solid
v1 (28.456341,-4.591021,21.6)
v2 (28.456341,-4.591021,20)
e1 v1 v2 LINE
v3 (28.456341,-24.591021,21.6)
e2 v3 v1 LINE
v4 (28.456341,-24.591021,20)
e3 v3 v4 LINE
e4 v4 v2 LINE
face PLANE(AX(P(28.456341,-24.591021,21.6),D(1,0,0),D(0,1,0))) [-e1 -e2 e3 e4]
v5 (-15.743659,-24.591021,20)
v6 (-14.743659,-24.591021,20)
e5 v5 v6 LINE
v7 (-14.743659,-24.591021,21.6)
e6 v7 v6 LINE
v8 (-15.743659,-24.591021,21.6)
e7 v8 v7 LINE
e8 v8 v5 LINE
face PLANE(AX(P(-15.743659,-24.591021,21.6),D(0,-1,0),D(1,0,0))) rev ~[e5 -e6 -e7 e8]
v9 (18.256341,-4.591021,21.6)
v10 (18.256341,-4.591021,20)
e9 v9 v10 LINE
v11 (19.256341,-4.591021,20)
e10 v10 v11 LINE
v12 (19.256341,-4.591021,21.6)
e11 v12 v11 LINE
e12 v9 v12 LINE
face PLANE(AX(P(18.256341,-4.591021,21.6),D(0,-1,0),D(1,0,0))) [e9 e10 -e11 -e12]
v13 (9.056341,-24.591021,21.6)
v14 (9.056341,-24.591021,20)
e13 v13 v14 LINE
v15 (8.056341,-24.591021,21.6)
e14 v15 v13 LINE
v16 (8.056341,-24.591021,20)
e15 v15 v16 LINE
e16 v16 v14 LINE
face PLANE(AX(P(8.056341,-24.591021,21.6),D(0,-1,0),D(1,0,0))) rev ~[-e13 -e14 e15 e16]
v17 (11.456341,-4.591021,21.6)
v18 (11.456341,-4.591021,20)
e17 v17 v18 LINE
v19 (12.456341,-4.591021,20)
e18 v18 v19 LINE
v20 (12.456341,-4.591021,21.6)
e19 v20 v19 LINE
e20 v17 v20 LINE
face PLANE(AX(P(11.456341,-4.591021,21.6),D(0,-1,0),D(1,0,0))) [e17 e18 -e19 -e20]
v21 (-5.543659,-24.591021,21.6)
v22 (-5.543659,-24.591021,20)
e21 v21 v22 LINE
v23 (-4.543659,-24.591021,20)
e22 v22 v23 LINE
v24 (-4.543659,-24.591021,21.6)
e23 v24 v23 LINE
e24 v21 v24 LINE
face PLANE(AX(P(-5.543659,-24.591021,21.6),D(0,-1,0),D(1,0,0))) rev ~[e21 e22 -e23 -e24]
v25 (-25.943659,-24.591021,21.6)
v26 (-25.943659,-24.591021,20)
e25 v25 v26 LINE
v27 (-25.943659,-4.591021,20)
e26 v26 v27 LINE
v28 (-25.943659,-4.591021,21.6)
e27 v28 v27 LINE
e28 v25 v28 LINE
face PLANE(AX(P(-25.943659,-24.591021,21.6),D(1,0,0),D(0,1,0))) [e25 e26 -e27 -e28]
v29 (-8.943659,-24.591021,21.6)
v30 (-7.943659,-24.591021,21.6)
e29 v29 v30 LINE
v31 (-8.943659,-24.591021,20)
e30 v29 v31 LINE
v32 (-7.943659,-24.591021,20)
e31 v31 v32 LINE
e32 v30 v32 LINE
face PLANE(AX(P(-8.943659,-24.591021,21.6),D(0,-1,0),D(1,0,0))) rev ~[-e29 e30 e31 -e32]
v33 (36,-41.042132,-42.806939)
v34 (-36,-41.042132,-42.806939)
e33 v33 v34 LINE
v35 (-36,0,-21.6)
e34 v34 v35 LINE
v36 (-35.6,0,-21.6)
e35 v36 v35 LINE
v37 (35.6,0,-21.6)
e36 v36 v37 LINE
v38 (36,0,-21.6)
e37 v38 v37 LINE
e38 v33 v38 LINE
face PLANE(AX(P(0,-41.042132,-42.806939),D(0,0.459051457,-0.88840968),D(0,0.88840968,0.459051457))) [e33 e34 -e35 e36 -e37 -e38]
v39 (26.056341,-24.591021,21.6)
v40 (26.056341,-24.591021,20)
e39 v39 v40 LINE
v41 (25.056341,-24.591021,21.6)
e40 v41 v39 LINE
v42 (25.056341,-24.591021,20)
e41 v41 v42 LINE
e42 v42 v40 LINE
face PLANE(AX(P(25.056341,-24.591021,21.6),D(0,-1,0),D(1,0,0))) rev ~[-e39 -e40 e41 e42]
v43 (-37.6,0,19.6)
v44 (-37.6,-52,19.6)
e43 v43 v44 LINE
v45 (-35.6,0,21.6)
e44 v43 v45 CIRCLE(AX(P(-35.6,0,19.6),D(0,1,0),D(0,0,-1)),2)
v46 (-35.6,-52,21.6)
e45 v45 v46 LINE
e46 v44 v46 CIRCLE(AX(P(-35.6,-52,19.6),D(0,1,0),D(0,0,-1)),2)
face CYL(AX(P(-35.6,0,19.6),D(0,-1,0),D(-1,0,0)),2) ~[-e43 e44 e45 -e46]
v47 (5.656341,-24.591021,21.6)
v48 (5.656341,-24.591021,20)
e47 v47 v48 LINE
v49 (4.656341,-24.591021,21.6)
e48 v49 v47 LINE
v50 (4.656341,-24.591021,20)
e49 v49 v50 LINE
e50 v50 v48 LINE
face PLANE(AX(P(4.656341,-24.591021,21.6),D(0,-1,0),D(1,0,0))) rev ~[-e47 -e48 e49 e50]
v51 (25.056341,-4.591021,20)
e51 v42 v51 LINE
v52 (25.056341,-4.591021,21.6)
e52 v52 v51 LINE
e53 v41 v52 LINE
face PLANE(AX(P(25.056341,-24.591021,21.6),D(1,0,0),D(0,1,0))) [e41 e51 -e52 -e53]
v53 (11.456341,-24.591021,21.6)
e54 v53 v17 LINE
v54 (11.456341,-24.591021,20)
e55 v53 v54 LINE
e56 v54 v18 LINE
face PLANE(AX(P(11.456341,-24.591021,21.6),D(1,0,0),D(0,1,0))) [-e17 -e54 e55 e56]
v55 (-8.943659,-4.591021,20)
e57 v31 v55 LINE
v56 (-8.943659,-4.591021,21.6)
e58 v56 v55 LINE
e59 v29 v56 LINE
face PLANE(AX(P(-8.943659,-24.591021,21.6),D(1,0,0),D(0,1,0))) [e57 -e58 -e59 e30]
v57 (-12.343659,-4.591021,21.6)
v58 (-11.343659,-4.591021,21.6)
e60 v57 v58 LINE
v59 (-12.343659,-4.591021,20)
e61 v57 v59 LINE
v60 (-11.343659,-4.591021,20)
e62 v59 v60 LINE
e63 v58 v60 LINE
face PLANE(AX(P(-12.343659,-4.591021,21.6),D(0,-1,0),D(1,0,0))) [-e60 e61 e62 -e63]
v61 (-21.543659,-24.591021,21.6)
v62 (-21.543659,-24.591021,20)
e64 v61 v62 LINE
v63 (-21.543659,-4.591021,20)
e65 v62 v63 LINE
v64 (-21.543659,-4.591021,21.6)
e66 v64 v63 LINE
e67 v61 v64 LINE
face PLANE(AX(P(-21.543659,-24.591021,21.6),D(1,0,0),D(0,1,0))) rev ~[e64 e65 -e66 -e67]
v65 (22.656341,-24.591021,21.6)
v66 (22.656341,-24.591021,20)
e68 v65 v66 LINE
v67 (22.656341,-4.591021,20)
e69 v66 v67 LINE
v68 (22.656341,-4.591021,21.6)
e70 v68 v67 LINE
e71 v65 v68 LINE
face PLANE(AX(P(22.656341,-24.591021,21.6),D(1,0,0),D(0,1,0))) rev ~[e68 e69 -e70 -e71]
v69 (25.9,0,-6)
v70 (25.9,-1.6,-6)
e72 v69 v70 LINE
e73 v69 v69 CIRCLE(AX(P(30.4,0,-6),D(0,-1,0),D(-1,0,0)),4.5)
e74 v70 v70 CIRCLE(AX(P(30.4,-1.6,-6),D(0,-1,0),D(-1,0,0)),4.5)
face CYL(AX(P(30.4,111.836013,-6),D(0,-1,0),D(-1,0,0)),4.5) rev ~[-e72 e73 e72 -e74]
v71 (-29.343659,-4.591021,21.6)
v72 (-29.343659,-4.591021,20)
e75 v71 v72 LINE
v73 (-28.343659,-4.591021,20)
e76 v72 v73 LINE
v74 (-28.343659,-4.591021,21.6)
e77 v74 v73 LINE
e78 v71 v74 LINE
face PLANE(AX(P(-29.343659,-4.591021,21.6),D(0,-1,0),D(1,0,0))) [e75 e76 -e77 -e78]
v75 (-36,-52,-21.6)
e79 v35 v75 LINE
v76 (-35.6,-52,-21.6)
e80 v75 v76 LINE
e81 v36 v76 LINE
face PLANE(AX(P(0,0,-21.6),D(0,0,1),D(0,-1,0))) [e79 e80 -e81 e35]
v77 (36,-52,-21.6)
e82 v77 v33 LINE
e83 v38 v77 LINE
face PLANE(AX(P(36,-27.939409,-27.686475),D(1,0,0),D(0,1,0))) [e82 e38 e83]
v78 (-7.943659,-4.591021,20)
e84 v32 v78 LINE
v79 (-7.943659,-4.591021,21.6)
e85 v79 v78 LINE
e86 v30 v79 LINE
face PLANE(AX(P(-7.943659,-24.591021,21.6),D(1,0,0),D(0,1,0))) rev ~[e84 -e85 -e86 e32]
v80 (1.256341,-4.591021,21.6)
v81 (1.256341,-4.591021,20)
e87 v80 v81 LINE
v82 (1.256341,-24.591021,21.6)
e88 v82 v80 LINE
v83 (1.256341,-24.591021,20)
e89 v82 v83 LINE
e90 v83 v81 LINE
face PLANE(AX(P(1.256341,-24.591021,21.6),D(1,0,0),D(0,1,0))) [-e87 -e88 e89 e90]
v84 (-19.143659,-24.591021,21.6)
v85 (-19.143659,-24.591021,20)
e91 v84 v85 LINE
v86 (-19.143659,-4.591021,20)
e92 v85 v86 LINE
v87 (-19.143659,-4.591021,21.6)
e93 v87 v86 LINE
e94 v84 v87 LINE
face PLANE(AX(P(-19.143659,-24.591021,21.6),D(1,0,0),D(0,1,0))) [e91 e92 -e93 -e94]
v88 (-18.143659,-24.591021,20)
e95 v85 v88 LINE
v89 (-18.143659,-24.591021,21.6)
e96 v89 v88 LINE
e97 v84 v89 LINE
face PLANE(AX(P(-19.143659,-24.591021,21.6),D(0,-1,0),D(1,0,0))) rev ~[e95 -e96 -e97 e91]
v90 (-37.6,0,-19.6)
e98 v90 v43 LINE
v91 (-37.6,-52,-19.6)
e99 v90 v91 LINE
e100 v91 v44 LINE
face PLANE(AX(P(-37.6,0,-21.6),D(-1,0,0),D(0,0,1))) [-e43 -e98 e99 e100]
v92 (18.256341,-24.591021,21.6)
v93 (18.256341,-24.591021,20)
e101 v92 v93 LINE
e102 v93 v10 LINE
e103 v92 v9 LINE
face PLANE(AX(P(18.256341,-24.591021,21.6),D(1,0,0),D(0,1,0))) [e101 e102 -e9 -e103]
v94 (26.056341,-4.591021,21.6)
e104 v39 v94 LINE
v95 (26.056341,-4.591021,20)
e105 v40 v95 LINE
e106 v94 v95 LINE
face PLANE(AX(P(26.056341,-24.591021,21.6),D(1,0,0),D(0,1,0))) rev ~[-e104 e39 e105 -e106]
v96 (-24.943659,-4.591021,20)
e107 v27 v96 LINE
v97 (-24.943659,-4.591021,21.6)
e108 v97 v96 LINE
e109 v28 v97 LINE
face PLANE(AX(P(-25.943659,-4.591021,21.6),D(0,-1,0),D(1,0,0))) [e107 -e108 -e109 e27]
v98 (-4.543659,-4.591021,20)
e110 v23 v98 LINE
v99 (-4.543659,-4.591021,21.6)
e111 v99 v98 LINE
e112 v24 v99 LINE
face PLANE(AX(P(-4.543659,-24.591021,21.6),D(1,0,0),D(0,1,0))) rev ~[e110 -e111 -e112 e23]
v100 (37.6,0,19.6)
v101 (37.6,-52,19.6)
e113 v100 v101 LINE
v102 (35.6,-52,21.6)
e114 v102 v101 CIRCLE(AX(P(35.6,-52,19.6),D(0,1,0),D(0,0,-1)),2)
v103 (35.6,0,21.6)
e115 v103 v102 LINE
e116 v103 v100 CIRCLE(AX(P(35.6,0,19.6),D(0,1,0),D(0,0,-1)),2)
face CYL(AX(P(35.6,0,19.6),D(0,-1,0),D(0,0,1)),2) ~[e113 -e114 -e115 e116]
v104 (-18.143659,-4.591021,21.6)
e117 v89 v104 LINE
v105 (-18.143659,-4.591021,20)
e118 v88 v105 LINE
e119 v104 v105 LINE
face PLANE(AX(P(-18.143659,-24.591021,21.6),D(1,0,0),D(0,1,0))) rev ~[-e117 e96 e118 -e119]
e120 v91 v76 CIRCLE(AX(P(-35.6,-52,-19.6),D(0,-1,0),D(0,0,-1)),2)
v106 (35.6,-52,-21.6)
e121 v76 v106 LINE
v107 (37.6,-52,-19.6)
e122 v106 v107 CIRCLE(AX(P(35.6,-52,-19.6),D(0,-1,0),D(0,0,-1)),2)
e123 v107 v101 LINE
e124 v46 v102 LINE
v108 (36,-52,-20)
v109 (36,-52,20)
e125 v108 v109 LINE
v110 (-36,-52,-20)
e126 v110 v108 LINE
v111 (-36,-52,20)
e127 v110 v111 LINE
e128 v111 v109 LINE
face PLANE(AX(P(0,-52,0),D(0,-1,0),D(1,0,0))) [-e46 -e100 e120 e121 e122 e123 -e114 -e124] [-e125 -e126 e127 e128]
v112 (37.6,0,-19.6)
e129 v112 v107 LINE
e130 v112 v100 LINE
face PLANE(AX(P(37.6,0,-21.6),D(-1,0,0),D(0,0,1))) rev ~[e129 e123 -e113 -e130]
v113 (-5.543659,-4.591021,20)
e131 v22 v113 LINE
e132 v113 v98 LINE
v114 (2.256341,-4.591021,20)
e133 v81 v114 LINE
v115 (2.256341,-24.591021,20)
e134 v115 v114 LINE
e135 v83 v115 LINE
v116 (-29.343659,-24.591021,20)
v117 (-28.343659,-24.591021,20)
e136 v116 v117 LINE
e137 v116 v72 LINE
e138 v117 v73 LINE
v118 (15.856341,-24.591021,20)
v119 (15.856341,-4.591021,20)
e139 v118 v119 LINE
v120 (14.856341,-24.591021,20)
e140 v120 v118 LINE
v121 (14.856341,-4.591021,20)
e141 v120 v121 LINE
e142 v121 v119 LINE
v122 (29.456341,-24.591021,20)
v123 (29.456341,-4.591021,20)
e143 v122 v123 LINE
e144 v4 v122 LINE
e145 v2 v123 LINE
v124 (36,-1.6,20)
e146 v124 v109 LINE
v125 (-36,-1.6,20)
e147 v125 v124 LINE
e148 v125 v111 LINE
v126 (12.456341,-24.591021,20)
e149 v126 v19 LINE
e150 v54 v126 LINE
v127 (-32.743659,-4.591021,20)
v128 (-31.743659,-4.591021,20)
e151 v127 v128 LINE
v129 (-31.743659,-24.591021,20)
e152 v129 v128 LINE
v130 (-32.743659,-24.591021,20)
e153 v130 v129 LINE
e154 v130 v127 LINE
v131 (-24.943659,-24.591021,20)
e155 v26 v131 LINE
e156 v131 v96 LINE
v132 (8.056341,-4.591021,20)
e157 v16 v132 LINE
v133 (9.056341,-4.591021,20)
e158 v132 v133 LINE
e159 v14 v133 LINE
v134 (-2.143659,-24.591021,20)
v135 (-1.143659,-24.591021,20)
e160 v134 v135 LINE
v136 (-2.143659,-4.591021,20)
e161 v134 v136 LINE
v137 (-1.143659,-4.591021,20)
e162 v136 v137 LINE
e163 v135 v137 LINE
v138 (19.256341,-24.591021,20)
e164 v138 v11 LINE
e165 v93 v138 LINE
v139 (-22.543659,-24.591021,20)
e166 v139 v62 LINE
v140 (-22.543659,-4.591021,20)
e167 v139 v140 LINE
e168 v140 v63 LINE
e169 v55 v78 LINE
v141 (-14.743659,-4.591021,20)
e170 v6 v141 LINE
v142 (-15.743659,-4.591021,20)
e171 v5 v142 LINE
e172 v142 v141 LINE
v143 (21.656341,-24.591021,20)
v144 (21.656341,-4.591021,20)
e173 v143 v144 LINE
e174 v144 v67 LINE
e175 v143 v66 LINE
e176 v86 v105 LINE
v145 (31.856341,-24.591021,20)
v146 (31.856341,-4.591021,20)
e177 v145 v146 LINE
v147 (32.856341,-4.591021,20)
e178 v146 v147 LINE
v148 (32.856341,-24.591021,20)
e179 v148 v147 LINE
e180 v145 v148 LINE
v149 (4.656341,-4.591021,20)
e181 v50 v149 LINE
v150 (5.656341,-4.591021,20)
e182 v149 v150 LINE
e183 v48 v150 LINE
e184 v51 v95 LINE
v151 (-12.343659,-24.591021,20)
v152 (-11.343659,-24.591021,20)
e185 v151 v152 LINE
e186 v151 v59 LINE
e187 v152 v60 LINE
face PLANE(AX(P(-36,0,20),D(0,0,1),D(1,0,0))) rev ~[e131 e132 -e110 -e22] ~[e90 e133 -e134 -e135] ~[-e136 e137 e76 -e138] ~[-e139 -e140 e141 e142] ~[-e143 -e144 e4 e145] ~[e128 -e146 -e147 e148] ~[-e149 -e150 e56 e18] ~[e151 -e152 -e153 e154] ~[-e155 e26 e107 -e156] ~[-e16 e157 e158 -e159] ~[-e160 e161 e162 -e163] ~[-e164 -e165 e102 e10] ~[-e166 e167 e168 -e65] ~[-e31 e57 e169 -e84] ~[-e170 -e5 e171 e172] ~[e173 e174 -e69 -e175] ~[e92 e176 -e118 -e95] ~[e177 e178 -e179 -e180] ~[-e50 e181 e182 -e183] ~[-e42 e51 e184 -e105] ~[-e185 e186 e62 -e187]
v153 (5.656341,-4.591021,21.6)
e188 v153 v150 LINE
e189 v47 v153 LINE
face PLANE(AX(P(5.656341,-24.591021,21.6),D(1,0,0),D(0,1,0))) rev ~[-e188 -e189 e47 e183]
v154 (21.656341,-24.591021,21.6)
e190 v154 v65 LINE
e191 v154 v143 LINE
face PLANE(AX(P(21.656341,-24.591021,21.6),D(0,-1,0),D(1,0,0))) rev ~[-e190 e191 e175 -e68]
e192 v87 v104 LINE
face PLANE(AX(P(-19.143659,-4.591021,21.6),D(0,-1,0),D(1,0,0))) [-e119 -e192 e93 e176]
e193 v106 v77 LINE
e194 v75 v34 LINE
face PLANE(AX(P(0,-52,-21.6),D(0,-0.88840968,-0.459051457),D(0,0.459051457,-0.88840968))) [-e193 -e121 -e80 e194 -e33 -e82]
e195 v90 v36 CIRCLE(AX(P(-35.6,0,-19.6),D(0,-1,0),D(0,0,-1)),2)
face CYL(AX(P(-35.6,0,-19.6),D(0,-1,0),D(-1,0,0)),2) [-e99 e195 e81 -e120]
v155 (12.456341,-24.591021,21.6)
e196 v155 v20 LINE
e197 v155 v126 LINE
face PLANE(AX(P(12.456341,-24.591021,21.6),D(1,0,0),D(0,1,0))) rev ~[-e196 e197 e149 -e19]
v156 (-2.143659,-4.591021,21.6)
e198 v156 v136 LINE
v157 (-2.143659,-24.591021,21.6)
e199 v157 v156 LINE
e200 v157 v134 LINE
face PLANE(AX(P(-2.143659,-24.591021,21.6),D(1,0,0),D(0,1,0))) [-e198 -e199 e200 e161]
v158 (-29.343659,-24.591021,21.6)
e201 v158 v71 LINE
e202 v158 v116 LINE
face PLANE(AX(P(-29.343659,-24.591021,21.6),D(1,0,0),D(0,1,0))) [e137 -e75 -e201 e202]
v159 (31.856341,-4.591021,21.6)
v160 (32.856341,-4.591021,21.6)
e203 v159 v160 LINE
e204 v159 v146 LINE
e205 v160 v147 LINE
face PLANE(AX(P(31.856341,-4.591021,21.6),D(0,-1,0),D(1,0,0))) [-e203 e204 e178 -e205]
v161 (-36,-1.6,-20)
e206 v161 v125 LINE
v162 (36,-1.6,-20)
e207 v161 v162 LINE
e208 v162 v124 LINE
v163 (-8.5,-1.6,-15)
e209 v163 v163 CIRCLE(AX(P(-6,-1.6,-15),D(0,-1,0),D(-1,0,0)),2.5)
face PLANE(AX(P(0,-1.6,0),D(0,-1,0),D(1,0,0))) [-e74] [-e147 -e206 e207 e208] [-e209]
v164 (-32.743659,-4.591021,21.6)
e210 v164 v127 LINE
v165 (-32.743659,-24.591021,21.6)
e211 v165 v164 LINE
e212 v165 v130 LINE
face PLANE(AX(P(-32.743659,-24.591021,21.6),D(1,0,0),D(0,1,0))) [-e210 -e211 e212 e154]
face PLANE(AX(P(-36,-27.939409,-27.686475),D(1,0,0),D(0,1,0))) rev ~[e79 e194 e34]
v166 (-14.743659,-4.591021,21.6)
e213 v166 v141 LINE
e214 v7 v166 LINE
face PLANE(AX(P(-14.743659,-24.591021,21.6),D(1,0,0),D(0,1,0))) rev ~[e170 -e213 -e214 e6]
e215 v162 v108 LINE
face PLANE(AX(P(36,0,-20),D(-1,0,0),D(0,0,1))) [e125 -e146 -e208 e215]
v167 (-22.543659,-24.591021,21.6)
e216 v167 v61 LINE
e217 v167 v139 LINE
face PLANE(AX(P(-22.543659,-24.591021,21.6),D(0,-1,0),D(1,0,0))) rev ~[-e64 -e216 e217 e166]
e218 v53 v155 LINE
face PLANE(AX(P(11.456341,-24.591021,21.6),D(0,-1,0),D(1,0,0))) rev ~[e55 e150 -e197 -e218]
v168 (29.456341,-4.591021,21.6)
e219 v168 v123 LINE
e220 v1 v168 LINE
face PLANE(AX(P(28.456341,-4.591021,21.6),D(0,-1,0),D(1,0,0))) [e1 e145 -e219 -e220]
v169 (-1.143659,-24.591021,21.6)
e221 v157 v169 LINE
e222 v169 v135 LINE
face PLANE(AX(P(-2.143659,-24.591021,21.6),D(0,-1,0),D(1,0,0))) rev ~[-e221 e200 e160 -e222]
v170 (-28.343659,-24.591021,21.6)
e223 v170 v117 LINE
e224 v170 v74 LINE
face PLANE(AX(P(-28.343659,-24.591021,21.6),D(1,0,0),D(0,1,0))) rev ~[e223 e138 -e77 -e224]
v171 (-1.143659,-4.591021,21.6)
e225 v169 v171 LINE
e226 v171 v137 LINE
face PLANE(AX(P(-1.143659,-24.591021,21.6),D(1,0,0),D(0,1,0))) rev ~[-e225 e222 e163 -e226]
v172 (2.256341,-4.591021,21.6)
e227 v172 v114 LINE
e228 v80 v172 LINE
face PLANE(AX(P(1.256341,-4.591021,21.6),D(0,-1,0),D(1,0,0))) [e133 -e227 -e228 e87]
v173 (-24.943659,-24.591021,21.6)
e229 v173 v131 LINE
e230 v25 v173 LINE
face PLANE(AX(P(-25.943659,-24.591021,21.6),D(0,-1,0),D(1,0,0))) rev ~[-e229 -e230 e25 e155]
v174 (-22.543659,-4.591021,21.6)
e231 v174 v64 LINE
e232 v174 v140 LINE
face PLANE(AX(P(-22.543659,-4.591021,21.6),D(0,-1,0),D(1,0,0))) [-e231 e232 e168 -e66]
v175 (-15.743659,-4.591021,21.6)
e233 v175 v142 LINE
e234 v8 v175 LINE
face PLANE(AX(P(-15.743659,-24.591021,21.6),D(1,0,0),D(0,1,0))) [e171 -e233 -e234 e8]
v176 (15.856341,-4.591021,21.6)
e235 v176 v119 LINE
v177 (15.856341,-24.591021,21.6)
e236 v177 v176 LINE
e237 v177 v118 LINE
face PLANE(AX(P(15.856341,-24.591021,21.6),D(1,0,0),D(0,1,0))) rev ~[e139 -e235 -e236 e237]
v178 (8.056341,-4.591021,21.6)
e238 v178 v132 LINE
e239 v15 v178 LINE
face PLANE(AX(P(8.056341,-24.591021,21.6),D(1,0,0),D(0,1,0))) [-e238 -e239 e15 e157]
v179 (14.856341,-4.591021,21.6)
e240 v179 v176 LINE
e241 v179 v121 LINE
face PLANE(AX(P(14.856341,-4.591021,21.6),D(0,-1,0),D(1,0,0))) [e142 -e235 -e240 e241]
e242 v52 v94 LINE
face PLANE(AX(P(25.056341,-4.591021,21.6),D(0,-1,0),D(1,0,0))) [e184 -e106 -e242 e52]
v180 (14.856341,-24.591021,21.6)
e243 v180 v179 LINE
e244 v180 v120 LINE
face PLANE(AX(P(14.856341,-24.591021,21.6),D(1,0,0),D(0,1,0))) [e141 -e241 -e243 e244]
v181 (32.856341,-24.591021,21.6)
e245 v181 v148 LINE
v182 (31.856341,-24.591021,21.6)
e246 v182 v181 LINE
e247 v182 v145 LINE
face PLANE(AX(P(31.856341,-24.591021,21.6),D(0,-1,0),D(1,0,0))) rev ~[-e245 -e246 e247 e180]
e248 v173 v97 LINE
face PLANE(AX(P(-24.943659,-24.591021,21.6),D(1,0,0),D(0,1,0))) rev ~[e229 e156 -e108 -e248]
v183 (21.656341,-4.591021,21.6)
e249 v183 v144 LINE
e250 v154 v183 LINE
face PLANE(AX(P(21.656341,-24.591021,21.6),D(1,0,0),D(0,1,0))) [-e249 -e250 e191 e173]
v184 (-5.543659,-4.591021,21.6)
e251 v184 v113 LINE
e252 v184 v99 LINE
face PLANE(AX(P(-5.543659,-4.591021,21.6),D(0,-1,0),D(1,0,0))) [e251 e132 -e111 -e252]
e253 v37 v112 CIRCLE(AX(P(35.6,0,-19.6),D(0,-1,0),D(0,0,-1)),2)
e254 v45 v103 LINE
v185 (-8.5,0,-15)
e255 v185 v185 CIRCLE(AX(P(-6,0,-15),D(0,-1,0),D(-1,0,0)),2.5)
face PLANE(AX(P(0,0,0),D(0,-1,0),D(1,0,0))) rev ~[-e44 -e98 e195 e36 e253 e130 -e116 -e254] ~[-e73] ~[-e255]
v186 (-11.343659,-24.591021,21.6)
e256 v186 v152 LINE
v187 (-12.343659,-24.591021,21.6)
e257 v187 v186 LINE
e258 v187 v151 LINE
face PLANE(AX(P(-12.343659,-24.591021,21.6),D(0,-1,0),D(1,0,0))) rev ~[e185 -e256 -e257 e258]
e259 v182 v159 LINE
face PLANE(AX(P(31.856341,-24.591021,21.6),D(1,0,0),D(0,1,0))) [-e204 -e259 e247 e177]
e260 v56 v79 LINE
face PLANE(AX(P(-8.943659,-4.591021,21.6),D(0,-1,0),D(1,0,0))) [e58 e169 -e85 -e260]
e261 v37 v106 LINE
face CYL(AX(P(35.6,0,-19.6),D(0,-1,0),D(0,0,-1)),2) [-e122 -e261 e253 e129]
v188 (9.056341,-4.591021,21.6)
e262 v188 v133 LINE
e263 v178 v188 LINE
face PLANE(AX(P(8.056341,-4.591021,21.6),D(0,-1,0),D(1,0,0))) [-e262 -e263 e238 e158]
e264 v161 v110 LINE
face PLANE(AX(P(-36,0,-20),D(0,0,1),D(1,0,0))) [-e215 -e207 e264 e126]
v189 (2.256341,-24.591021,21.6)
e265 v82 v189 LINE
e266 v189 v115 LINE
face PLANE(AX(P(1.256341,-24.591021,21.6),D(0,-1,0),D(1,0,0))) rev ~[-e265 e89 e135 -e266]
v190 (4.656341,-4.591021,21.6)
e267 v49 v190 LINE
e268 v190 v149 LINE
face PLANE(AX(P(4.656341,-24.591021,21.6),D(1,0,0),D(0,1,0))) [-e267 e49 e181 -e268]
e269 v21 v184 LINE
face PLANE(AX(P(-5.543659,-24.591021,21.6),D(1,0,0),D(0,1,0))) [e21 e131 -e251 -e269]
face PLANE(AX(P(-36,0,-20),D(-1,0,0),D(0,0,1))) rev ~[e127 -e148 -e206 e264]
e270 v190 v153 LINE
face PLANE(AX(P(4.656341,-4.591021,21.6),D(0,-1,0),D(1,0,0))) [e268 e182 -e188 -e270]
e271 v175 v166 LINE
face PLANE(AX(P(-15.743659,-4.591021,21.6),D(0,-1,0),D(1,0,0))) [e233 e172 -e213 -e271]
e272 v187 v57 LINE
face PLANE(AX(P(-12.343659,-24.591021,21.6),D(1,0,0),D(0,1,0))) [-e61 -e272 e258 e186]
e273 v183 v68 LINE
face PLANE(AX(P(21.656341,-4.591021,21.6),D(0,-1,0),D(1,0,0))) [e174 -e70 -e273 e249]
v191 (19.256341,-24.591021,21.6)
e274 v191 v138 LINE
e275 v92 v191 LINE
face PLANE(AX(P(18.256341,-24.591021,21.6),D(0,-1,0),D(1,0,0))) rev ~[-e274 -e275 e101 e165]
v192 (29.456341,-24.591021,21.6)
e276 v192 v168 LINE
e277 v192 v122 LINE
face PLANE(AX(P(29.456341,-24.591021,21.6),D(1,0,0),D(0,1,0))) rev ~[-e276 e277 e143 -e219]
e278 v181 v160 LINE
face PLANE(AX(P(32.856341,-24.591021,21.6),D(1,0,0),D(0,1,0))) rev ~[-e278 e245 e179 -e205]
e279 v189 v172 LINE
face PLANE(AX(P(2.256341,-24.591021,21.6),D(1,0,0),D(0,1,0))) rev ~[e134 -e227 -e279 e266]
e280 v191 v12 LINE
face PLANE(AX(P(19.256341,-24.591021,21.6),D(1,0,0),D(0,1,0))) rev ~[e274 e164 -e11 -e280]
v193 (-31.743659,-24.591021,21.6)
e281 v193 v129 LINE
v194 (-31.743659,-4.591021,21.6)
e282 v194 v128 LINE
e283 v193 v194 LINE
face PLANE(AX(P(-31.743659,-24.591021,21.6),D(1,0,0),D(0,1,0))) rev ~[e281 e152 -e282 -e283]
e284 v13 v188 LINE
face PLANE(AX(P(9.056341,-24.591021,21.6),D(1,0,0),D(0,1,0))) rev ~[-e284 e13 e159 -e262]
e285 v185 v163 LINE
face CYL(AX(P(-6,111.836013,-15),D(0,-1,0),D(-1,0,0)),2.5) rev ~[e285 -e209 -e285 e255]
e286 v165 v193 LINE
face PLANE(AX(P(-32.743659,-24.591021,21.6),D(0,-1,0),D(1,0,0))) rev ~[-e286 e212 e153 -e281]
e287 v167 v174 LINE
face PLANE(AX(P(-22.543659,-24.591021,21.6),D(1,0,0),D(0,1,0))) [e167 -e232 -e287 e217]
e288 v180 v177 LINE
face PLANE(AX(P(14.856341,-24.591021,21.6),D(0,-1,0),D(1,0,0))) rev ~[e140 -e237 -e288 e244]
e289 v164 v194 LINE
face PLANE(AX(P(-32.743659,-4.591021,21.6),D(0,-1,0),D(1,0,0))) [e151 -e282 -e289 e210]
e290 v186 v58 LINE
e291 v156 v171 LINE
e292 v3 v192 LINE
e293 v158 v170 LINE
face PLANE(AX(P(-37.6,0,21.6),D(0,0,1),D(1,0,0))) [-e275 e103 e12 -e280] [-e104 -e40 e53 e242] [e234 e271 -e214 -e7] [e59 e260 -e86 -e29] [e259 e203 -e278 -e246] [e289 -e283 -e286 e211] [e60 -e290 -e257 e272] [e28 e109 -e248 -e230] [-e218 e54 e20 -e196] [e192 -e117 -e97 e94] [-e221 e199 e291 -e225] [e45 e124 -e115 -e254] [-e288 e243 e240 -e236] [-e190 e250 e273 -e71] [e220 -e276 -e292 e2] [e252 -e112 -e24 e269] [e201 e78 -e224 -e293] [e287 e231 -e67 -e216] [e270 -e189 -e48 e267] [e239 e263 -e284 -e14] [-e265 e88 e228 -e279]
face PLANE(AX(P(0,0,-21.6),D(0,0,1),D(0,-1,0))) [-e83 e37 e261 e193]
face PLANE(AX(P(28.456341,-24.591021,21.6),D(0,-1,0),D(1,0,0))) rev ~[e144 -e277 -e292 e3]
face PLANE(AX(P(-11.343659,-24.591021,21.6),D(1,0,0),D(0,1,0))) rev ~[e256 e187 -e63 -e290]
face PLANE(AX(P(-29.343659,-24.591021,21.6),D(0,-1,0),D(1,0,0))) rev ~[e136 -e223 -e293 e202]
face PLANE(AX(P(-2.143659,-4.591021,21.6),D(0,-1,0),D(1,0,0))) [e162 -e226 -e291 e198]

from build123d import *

# Parameters (mm, degrees)
F0_W     = 75.2
F0_H     = 43.2
F0_W_2   = 72
F0_H_2   = 40
F1_DEPTH = 52
F2_R     = 2
F3_DEPTH = 1.6
F5_DEPTH = 36
F6_D     = 9
F7_D     = 5
F8_W     = 1
F8_H     = 20
F9_DEPTH = 25


with BuildPart() as f1:
    # F0 (on Front) → F1 (new body)
    with BuildSketch(Plane.XZ):
        Rectangle(F0_W, F0_H)
        Rectangle(F0_W_2, F0_H_2, mode=Mode.SUBTRACT)
    extrude(amount=F1_DEPTH)

    # F2
    f2_edges = [f1.edges().sort_by_distance(p)[0] for p in [
        (37.6, -26, 21.6),
        (-37.6, -26, 21.6),
        (-37.6, -26, -21.6),
        (37.6, -26, -21.6),
    ]]
    fillet(f2_edges, radius=F2_R)

    # F0 (on Front) → F3 (join)
    with BuildSketch(Plane.XZ):
        Rectangle(F0_W_2, F0_H_2)
    extrude(amount=F3_DEPTH)

    # F4 (on Right) → F5 (join, symmetric)
    with BuildSketch(Plane.YZ):
        Polygon((0, -21.6), (-52, -21.6), (-41.0421315348, -42.8069394041), align=None)
    extrude(amount=F5_DEPTH, both=True)

    # F6 (through all)
    with Locations(Plane(origin=(0, 0, 0), x_dir=(1, 0, 0), z_dir=(0, 1, 0))):
        with Locations((30.4, 6)):
            Hole(F6_D / 2)

    # F7 (through all)
    with Locations(Plane(origin=(0, 0, 0), x_dir=(1, 0, 0), z_dir=(0, 1, 0))):
        with Locations((-6, 15)):
            Hole(F7_D / 2)

    # F8 (on face) → F9 (cut)
    with BuildSketch(Plane.XY.offset(21.6)):
        with Locations((-32.2436588705, -14.5910207555)):
            Rectangle(F8_W, F8_H)
        with Locations((-28.8436588705, -14.5910207555)):
            Rectangle(F8_W, F8_H)
        with Locations((-25.4436588705, -14.5910207555)):
            Rectangle(F8_W, F8_H)
        with Locations((-22.0436588705, -14.5910207555)):
            Rectangle(F8_W, F8_H)
        with Locations((-18.6436588705, -14.5910207555)):
            Rectangle(F8_W, F8_H)
        with Locations((-15.2436588705, -14.5910207555)):
            Rectangle(F8_W, F8_H)
        with Locations((-11.8436588705, -14.5910207555)):
            Rectangle(F8_W, F8_H)
        with Locations((-8.4436588705, -14.5910207555)):
            Rectangle(F8_W, F8_H)
        with Locations((-5.0436588705, -14.5910207555)):
            Rectangle(F8_W, F8_H)
        with Locations((1.7563411295, -14.5910207555)):
            Rectangle(F8_W, F8_H)
        with Locations((5.1563411295, -14.5910207555)):
            Rectangle(F8_W, F8_H)
        with Locations((-1.6436588705, -14.5910207555)):
            Rectangle(F8_W, F8_H)
        with Locations((8.5563411295, -14.5910207555)):
            Rectangle(F8_W, F8_H)
        with Locations((11.9563411295, -14.5910207555)):
            Rectangle(F8_W, F8_H)
        with Locations((15.3563411295, -14.5910207555)):
            Rectangle(F8_W, F8_H)
        with Locations((18.7563411295, -14.5910207555)):
            Rectangle(F8_W, F8_H)
        with Locations((22.1563411295, -14.5910207555)):
            Rectangle(F8_W, F8_H)
        with Locations((25.5563411295, -14.5910207555)):
            Rectangle(F8_W, F8_H)
        with Locations((28.9563411295, -14.5910207555)):
            Rectangle(F8_W, F8_H)
        with Locations((32.3563411295, -14.5910207555)):
            Rectangle(F8_W, F8_H)
    extrude(amount=-F9_DEPTH, mode=Mode.SUBTRACT)


solid = f1.part
